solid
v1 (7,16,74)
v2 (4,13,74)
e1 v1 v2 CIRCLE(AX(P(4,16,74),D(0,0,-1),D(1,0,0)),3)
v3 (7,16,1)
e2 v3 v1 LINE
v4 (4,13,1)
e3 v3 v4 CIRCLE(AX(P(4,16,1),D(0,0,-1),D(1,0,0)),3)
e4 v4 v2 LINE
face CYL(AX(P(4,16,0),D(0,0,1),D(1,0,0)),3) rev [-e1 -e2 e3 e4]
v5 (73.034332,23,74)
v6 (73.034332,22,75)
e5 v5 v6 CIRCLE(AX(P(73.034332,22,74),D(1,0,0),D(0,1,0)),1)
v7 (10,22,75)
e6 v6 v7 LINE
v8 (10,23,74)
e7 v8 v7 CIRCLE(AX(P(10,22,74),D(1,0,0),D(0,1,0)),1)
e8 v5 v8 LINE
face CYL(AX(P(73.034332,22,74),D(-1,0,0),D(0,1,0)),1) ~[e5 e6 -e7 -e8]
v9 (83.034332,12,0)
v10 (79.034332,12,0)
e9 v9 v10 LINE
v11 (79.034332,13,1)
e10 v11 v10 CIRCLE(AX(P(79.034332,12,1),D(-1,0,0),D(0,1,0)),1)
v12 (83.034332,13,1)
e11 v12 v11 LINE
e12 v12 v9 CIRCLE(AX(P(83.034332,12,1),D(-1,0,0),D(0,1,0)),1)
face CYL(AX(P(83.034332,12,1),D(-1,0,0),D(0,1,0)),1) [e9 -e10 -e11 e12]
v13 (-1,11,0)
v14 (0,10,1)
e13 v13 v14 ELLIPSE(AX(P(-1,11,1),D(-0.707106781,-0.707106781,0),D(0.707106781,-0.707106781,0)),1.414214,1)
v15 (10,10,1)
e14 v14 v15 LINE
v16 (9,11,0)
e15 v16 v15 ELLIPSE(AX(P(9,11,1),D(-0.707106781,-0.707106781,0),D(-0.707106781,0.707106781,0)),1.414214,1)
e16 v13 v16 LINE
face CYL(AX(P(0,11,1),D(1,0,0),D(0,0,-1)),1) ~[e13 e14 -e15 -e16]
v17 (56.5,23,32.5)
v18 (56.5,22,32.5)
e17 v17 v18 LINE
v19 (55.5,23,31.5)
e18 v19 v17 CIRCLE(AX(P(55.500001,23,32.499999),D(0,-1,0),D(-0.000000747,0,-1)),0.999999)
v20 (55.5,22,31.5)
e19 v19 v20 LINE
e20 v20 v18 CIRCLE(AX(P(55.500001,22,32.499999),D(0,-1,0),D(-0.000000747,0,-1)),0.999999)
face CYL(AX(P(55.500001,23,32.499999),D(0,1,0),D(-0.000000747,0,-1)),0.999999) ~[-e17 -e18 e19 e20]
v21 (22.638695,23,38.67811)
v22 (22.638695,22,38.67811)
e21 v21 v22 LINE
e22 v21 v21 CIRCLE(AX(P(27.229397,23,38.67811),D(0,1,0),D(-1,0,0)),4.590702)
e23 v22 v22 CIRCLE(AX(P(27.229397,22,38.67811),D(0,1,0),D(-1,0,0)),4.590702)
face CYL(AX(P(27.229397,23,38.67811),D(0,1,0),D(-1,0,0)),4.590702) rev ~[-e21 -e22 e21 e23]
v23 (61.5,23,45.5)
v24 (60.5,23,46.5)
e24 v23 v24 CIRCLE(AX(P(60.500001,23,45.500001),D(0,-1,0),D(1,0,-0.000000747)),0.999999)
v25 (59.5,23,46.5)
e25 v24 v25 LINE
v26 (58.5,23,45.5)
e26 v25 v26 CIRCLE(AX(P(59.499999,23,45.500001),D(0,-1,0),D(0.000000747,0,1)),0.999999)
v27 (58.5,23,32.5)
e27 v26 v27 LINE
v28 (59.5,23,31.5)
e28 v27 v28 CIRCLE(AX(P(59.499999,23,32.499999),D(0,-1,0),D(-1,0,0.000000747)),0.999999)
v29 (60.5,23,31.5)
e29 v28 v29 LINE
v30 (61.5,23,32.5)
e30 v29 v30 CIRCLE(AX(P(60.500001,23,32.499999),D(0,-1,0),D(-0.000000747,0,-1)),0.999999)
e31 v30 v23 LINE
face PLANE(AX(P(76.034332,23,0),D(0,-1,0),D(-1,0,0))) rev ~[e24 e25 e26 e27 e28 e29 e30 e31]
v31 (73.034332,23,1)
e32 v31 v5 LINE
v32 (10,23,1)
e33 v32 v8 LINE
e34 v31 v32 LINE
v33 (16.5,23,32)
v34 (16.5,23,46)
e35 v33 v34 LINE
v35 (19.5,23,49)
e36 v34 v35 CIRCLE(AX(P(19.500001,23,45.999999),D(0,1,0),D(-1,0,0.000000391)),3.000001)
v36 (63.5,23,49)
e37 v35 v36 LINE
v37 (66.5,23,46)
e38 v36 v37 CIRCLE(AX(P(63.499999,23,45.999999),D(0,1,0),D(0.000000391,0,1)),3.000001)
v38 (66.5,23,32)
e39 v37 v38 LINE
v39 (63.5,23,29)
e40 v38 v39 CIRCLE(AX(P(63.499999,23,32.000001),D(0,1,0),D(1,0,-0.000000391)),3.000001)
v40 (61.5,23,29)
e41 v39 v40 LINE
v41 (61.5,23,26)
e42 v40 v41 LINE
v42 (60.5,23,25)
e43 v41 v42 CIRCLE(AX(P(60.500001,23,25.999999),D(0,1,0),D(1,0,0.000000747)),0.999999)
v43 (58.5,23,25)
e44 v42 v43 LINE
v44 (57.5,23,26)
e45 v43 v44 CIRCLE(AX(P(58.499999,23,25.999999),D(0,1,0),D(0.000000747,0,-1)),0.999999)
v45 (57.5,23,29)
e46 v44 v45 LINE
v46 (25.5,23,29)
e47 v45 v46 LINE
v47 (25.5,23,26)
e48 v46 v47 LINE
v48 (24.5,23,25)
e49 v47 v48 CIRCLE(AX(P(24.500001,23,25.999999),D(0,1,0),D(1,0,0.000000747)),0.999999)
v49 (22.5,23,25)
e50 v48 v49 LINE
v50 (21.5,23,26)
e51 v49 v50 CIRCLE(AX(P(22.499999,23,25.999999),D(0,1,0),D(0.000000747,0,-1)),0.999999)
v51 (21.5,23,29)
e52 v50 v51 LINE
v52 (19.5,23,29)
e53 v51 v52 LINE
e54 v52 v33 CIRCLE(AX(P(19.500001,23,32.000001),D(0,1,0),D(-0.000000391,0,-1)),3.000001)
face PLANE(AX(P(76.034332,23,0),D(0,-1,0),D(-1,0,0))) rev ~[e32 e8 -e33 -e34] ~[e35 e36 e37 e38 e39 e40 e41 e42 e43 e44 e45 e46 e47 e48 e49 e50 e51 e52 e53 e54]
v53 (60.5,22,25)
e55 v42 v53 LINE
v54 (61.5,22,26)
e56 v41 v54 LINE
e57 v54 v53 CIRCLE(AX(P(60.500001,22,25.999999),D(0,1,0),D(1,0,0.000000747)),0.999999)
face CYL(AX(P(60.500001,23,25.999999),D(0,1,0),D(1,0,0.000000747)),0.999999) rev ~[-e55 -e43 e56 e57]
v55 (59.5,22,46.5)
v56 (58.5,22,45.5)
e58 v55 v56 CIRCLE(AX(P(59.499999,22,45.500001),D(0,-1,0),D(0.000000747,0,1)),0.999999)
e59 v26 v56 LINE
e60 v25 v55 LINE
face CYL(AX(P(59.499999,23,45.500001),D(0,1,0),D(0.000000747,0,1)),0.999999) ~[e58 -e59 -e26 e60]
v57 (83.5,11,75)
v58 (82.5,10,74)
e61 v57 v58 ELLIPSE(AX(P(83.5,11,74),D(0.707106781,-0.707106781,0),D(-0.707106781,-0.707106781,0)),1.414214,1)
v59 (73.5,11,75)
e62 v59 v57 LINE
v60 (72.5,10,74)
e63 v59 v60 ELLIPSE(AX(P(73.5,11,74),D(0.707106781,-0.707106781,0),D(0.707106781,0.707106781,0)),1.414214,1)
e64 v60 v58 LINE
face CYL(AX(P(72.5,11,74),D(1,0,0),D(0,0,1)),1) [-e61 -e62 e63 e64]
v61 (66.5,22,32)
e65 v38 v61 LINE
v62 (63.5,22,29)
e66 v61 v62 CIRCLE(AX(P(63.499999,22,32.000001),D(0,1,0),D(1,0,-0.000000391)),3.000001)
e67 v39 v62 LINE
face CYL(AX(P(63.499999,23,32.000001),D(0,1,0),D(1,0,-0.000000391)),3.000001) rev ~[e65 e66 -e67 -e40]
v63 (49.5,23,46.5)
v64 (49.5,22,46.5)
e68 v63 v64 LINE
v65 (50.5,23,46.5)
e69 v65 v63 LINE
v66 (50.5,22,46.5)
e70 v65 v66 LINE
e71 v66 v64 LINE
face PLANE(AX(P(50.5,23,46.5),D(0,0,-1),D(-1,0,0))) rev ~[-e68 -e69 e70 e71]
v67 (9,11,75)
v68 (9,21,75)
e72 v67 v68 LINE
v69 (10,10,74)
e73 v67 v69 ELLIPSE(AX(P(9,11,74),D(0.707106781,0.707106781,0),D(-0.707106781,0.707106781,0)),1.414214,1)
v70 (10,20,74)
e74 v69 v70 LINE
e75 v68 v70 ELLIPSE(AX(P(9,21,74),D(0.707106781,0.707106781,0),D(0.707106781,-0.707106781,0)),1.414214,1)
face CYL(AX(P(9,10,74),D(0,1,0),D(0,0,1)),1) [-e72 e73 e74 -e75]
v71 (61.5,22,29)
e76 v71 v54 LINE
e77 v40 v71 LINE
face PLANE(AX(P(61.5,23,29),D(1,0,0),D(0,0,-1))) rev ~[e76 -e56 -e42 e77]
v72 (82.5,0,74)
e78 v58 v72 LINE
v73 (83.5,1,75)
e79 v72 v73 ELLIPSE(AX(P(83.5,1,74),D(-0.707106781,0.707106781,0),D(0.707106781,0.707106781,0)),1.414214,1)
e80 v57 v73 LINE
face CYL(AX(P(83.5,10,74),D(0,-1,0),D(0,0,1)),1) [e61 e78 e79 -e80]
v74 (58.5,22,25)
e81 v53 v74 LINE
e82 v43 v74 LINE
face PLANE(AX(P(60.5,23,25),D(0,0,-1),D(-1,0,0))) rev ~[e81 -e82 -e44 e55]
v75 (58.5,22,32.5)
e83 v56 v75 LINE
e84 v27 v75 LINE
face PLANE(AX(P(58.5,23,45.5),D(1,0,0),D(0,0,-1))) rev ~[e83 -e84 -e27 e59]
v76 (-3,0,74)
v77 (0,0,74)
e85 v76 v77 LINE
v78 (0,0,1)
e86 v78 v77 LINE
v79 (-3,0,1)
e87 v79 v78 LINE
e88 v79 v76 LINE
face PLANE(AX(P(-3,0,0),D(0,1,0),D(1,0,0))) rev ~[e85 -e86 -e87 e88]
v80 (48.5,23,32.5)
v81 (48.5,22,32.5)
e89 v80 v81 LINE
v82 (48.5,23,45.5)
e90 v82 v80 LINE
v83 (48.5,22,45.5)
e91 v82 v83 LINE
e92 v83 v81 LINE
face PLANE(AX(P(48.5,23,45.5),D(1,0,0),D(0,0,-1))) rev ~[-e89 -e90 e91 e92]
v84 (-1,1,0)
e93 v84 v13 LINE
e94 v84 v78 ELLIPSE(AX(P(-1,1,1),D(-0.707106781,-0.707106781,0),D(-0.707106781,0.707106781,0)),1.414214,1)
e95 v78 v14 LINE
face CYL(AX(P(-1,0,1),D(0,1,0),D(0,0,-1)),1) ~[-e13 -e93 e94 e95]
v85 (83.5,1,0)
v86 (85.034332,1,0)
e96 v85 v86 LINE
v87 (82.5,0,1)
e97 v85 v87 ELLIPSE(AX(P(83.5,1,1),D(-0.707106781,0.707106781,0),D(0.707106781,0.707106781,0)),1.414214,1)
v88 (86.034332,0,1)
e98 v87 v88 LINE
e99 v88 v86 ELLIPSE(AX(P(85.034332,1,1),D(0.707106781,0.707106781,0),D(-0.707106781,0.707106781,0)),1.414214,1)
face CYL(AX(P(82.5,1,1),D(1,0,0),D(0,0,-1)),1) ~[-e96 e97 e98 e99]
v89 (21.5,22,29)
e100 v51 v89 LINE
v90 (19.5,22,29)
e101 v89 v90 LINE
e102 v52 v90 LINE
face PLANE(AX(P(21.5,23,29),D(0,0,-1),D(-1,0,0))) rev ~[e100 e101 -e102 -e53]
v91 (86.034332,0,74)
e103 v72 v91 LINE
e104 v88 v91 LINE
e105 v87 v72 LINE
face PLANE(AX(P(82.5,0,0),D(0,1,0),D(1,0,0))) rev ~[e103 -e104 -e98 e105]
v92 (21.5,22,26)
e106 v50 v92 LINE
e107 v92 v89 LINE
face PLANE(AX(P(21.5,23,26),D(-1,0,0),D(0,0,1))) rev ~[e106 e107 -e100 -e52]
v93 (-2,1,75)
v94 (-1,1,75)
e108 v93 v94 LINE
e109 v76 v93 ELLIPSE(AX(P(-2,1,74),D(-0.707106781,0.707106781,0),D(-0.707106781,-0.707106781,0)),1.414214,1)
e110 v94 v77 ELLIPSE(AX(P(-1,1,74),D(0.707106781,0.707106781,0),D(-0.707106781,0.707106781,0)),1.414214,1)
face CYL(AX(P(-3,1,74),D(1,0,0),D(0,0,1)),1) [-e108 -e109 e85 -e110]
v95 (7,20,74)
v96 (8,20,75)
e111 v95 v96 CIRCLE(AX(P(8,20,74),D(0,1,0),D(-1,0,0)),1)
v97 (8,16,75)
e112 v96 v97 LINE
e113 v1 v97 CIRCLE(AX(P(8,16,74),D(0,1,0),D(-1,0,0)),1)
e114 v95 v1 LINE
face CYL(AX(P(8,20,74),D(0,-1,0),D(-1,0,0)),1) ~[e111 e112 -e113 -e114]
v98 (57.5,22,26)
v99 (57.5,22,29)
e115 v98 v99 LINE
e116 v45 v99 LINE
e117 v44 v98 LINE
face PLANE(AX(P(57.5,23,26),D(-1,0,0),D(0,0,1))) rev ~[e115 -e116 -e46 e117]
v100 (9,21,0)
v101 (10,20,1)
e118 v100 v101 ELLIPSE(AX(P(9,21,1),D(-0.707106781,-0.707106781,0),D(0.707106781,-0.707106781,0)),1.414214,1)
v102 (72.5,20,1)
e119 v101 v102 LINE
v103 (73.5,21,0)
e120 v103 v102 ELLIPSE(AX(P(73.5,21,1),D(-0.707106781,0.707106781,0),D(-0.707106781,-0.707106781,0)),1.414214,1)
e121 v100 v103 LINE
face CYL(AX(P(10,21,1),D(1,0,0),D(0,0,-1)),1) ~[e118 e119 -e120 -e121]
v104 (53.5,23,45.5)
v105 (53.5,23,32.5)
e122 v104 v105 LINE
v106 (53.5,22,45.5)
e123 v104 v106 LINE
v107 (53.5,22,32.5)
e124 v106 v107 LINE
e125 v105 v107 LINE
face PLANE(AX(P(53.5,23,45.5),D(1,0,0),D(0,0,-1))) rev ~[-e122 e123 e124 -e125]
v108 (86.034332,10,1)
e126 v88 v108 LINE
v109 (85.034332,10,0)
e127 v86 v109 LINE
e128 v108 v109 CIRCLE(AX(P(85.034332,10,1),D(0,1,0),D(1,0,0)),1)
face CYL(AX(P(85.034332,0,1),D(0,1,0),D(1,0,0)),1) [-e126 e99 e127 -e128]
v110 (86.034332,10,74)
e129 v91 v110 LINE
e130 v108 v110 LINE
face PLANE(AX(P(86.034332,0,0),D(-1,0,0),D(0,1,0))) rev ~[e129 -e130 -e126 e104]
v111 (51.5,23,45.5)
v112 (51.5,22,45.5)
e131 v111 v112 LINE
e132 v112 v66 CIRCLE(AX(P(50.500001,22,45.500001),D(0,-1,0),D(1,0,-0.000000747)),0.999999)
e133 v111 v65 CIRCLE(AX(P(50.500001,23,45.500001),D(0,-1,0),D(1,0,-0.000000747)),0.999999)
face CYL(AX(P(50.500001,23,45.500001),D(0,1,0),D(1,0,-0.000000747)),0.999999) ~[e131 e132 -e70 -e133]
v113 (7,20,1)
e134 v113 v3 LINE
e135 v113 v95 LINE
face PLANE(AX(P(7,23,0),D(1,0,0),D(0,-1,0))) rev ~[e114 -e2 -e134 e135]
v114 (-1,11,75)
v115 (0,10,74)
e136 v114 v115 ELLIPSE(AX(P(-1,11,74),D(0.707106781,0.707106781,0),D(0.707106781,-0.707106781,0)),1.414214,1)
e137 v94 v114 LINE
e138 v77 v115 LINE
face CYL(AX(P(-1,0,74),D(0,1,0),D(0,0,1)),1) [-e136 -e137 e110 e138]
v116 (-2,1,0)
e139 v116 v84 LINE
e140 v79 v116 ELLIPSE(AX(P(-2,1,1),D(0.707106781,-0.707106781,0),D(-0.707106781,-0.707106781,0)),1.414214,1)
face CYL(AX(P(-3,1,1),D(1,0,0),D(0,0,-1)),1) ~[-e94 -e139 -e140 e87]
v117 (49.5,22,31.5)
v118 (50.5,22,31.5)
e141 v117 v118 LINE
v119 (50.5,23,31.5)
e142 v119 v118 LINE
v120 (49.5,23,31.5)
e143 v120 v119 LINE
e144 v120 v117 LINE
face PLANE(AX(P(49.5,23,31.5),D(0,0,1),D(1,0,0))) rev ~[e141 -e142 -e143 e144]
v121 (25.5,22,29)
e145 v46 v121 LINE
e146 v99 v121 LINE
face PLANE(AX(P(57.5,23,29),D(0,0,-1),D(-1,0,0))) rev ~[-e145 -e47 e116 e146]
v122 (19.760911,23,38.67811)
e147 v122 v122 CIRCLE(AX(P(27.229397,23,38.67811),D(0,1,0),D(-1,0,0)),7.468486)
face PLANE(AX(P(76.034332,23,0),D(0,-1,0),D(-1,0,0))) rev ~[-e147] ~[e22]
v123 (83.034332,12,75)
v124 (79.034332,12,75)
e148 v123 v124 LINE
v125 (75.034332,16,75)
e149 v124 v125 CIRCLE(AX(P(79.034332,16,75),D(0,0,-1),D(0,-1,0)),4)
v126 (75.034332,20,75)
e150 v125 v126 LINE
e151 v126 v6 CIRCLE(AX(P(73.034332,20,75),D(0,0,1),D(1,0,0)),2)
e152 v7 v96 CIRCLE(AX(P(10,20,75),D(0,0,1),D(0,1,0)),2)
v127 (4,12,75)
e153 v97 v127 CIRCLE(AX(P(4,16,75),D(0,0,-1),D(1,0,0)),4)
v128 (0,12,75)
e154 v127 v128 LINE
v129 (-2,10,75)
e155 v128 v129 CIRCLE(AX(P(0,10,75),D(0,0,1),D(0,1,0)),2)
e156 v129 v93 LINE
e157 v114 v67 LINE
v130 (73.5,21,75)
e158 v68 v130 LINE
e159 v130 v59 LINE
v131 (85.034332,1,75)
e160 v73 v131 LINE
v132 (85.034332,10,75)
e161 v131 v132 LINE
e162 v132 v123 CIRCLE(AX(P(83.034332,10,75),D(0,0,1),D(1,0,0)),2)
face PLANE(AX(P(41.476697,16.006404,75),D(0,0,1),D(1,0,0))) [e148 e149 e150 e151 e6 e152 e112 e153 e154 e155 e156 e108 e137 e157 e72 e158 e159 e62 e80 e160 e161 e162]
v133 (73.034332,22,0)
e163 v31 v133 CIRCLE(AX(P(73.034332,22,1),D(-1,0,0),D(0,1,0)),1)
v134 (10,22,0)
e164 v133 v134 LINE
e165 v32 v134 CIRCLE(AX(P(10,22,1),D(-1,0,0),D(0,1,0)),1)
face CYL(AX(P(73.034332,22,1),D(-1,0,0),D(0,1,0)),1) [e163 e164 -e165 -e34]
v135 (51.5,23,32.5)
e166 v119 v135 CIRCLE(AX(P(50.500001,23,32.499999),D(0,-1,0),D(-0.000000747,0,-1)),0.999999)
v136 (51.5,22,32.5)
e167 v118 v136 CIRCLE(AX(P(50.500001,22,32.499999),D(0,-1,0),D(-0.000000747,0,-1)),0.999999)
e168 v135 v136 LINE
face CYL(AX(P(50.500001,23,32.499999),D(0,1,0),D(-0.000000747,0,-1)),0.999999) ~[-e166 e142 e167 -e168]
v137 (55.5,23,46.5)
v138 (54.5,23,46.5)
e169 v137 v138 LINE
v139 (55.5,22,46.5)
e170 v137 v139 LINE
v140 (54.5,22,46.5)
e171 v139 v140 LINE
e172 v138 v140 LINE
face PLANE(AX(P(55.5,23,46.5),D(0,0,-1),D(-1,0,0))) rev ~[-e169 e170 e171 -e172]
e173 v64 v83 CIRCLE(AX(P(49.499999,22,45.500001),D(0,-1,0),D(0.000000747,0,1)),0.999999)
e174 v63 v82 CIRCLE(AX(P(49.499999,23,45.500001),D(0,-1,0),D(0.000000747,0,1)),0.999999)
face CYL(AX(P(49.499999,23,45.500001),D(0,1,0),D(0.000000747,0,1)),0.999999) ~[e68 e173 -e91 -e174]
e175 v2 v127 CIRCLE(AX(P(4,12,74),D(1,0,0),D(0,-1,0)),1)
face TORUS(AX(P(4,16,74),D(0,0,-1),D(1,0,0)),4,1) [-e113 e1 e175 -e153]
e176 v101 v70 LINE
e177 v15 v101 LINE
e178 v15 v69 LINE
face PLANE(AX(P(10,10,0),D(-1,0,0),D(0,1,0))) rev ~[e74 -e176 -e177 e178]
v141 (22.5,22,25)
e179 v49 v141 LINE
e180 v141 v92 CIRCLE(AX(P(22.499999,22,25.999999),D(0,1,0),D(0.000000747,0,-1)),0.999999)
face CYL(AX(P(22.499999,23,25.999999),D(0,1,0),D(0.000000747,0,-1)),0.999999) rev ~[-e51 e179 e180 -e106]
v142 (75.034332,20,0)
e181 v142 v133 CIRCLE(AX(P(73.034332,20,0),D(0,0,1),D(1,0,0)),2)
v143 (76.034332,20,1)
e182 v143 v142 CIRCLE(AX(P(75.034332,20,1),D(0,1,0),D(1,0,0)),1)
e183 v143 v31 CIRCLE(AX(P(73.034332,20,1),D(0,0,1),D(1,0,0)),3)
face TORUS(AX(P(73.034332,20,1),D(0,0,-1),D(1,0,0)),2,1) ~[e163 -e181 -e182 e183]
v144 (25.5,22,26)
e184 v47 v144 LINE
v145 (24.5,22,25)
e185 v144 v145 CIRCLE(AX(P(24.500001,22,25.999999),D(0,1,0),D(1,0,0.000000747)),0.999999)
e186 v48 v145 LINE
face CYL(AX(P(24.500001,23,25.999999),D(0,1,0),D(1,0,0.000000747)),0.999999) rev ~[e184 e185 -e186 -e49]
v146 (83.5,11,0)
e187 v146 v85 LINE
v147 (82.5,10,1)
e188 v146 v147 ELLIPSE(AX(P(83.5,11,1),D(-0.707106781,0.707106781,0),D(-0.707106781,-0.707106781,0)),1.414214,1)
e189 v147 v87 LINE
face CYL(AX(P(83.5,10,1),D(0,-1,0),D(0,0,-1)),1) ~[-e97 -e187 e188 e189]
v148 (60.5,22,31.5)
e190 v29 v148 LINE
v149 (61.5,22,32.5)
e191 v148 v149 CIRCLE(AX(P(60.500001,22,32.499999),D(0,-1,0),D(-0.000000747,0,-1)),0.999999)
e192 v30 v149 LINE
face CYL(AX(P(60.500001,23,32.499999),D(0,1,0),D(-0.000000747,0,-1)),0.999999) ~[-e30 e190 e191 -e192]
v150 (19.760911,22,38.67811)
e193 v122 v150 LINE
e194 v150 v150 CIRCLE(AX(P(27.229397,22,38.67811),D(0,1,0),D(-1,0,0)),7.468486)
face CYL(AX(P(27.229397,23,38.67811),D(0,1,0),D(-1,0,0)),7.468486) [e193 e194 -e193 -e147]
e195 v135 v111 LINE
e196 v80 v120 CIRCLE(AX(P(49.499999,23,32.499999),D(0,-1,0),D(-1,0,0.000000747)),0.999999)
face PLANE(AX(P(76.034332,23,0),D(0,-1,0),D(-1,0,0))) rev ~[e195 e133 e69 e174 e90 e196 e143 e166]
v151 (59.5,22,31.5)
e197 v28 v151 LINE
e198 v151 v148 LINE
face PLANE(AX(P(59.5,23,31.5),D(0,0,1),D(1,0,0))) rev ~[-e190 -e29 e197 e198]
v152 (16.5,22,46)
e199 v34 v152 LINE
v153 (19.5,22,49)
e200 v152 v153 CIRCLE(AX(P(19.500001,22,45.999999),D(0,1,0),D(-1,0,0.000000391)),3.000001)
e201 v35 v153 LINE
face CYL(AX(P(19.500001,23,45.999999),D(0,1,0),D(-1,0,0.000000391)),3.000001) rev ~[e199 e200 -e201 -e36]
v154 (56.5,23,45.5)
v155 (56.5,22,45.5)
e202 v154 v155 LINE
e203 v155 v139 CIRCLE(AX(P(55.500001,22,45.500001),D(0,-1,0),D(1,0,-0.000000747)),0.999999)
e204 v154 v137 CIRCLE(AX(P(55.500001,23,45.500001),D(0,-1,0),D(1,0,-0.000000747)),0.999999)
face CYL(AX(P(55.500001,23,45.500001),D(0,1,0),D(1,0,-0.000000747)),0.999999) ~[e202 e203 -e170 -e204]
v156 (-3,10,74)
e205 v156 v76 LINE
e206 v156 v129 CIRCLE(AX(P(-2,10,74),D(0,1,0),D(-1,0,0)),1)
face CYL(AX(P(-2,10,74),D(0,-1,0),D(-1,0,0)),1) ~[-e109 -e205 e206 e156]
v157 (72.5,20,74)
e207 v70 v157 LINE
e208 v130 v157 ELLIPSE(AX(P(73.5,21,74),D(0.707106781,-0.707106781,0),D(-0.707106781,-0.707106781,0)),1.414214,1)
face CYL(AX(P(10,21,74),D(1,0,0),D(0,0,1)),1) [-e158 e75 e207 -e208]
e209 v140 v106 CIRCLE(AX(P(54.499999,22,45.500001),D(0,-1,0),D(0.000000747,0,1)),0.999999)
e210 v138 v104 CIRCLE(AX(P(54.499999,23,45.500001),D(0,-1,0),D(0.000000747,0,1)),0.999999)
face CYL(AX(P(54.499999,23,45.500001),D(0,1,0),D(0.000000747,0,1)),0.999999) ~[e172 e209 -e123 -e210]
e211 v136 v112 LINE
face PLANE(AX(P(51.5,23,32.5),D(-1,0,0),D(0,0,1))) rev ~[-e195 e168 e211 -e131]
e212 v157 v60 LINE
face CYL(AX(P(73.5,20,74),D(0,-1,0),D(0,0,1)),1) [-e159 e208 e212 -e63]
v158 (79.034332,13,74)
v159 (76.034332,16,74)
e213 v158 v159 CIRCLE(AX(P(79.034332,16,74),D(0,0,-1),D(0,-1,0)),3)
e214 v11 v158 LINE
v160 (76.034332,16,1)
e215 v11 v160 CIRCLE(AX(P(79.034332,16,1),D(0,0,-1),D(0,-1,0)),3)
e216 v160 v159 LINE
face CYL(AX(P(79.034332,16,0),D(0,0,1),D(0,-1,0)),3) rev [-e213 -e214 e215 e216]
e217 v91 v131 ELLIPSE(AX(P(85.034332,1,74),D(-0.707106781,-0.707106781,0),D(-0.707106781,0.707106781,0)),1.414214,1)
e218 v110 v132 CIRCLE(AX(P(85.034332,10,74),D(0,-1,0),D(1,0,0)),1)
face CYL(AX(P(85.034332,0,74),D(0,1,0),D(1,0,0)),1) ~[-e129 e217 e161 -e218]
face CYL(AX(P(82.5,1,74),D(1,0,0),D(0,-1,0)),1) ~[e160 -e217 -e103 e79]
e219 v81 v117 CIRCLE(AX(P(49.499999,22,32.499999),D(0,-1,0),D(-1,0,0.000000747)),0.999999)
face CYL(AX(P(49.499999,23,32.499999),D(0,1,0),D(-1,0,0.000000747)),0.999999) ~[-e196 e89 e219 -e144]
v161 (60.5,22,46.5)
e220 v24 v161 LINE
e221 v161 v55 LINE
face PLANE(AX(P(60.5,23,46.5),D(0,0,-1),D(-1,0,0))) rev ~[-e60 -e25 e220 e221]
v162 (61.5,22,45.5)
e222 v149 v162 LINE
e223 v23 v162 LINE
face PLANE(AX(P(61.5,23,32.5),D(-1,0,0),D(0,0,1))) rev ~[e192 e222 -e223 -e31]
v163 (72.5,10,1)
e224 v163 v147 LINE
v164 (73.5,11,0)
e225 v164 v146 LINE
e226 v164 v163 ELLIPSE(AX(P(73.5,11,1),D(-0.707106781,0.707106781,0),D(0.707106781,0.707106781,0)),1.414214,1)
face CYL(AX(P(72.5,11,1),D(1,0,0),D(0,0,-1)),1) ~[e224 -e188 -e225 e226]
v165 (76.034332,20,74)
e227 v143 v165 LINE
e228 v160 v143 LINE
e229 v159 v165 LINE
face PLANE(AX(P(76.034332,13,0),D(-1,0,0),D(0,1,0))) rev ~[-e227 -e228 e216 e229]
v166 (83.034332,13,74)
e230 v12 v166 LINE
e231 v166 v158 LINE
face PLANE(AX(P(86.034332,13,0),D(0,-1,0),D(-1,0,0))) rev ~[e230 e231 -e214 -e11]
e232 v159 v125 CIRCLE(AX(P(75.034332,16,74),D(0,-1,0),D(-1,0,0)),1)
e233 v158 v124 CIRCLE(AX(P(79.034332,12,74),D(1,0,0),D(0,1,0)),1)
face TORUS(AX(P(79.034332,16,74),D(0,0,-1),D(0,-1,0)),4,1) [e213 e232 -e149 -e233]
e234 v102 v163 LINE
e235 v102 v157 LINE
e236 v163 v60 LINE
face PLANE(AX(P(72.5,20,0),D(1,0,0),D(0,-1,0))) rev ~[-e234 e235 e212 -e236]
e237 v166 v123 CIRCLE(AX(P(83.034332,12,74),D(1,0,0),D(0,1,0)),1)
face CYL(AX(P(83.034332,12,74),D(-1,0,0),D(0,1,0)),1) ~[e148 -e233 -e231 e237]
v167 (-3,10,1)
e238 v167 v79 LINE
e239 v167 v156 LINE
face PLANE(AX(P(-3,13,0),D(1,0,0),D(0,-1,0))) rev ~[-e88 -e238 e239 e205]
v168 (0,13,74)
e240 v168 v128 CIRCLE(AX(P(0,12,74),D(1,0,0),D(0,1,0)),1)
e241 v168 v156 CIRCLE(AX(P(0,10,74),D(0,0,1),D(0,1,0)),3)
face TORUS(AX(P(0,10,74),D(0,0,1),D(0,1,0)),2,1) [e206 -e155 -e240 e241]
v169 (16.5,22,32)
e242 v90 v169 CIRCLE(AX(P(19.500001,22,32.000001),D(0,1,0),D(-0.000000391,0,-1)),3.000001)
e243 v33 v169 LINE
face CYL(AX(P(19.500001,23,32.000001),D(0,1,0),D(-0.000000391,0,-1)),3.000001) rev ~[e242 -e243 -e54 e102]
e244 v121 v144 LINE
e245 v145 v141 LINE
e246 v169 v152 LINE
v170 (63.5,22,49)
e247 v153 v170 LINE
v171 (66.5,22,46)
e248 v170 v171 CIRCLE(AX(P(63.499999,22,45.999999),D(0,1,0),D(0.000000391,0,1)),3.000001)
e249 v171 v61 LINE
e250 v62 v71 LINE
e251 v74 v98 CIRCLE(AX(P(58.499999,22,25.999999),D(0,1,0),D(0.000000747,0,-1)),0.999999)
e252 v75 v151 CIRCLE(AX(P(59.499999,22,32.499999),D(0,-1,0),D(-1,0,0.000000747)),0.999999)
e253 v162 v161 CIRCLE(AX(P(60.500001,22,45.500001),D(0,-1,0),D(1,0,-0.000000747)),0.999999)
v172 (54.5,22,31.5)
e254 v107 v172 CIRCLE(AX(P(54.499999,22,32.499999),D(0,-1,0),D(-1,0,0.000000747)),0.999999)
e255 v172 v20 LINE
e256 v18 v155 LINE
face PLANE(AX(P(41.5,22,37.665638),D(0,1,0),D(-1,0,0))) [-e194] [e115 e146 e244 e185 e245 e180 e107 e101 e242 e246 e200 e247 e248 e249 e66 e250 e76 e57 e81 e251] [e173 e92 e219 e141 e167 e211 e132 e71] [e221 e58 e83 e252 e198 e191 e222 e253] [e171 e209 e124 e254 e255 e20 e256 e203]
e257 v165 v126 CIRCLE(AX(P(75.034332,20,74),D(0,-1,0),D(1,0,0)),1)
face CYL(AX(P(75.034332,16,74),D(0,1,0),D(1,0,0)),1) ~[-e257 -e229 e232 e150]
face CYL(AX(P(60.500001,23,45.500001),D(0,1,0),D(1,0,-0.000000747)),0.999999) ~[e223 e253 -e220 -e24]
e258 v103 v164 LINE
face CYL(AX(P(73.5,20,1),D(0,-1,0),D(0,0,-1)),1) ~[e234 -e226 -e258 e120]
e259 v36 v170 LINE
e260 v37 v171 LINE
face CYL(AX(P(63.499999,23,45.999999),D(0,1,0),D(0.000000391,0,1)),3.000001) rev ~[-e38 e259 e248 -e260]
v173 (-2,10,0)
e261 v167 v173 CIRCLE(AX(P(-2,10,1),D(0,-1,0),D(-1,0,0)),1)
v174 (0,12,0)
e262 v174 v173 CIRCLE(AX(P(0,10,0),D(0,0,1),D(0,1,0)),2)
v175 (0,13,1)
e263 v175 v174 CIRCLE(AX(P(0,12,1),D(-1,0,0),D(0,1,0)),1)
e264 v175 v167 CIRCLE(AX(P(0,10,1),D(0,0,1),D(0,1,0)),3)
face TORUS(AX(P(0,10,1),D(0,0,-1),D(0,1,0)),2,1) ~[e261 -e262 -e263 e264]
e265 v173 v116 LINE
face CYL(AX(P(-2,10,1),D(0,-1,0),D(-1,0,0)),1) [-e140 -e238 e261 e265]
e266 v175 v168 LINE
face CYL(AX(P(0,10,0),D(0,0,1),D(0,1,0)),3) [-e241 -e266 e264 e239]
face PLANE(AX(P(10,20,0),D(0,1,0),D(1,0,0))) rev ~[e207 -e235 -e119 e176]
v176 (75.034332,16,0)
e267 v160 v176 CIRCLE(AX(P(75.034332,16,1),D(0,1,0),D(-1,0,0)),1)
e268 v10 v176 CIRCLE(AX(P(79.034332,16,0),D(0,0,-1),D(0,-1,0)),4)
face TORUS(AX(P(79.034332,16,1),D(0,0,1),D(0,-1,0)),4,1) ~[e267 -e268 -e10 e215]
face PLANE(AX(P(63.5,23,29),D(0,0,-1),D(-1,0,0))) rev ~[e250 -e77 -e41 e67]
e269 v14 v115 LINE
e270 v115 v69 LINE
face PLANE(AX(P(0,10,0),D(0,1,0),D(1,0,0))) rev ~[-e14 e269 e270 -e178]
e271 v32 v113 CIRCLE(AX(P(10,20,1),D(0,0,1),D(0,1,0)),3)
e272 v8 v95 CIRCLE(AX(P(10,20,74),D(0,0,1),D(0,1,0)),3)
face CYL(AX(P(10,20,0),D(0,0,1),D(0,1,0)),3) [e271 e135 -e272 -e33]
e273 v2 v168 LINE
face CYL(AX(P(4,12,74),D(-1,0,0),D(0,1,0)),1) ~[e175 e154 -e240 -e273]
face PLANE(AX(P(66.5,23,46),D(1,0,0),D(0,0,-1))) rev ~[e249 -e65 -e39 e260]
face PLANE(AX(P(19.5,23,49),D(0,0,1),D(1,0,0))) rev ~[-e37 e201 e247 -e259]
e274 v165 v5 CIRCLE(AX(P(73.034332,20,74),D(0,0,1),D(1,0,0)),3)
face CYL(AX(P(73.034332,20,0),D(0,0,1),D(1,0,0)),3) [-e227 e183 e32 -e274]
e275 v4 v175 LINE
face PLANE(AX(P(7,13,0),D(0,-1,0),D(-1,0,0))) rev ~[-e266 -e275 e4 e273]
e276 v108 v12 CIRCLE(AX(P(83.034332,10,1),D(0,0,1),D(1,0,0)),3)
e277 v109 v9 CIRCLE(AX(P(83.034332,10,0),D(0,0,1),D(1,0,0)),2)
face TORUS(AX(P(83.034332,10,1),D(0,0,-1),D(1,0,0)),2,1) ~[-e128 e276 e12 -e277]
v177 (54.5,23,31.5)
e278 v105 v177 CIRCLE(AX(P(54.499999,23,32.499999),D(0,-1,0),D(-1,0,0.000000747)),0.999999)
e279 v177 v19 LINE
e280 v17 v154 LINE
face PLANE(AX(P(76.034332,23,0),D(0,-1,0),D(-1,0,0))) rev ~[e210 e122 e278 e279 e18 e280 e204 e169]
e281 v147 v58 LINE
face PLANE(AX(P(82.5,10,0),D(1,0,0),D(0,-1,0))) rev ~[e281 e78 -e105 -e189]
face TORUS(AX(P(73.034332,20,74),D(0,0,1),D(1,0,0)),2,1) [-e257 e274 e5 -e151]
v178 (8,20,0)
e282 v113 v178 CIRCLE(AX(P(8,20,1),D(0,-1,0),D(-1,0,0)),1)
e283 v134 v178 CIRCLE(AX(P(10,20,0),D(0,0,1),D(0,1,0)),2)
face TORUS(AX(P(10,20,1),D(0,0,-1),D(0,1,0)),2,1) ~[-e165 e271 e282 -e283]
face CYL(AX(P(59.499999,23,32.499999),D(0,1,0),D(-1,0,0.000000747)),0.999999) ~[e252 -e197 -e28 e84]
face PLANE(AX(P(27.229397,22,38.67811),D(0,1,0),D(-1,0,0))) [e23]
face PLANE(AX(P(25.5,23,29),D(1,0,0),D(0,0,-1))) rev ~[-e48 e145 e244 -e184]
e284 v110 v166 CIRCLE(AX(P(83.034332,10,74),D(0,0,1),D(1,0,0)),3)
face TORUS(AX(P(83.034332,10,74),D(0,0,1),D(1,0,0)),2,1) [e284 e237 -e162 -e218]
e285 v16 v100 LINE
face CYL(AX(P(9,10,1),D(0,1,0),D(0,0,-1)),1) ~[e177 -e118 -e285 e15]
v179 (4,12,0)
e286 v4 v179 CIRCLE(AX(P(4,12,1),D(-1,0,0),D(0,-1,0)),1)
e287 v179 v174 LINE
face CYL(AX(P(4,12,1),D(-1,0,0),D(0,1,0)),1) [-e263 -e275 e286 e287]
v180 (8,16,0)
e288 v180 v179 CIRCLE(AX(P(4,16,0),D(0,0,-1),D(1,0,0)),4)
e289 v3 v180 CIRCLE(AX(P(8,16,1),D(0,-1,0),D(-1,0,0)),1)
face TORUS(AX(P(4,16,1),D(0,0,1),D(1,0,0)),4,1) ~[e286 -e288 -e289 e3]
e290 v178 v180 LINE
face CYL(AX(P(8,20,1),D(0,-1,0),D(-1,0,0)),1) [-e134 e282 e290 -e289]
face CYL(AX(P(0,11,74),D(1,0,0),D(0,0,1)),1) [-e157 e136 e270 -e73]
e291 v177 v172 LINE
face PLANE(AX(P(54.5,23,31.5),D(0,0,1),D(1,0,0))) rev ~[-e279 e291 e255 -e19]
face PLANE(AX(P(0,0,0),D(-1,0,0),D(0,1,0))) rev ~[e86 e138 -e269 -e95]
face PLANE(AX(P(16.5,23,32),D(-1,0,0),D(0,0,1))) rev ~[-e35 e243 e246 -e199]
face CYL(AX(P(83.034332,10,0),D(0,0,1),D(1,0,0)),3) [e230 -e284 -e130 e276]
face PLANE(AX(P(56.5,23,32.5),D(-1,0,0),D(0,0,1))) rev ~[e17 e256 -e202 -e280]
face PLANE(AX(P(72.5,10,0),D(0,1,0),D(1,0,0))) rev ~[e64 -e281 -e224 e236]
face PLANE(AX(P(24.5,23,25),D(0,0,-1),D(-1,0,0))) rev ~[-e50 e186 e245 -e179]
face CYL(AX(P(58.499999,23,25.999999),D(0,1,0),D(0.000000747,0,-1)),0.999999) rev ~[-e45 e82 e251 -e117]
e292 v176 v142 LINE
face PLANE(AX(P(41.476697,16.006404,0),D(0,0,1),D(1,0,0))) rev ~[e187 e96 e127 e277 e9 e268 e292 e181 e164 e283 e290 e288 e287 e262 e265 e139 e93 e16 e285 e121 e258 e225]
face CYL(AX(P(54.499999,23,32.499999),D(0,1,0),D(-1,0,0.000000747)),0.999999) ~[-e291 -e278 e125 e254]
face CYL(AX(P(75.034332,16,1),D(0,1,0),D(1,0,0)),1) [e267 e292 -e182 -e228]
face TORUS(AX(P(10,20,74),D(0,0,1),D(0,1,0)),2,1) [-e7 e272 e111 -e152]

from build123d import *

# Parameters (mm, degrees)
F1_DEPTH = 75
F2_R     = 3
F3_R     = 1
F4_R     = 7.468486
F4_R_2   = 4.590702
F5_DEPTH = 1


with BuildPart() as f1:
    # F0 (on Top) → F1 (new body)
    with BuildSketch(Plane.XY):
        Polygon((-3, 0), (0, 0), (0, 10), (10, 10), (10, 20), (72.5, 20), (72.5, 10), (82.5, 10), (82.5, 0), (86.034332, 0), (86.034332, 13), (76.034332, 13), (76.034332, 23), (7, 23), (7, 13), (-3, 13), align=None)
    extrude(amount=F1_DEPTH)

    # F2
    f2_edges = [f1.edges().sort_by_distance(p)[0] for p in [
        (-3, 13, 37.5),
        (7, 13, 37.5),
        (7, 23, 37.5),
        (76.034332, 23, 37.5),
        (76.034332, 13, 37.5),
        (86.034332, 13, 37.5),
    ]]
    fillet(f2_edges, radius=F2_R)

    # F3
    f3_edges = [f1.edges().sort_by_distance(p)[0] for p in [
        (86.034332, 5, 75),
        (85.155653, 12.12132, 75),
        (84.267166, 0, 75),
        (81.034332, 13, 75),
        (82.5, 5, 75),
        (76.913012, 13.87868, 75),
        (77.5, 10, 75),
        (76.034332, 18, 75),
        (72.5, 15, 75),
        (75.155653, 22.12132, 75),
        (41.25, 20, 75),
        (41.517166, 23, 75),
        (10, 15, 75),
        (7.87868, 22.12132, 75),
        (5, 10, 75),
        (7, 18, 75),
        (0, 5, 75),
        (6.12132, 13.87868, 75),
        (-1.5, 0, 75),
        (2, 13, 75),
        (-3, 5, 75),
        (-2.12132, 12.12132, 75),
        (86.034332, 5, 0),
        (85.155653, 12.12132, 0),
        (84.267166, 0, 0),
        (81.034332, 13, 0),
        (82.5, 5, 0),
        (76.913012, 13.87868, 0),
        (77.5, 10, 0),
        (76.034332, 18, 0),
        (72.5, 15, 0),
        (75.155653, 22.12132, 0),
        (41.25, 20, 0),
        (41.517166, 23, 0),
        (10, 15, 0),
        (7.87868, 22.12132, 0),
        (5, 10, 0),
        (7, 18, 0),
        (0, 5, 0),
        (6.12132, 13.87868, 0),
        (-1.5, 0, 0),
        (2, 13, 0),
        (-3, 5, 0),
        (-2.12132, 12.12132, 0),
    ]]
    fillet(f3_edges, radius=F3_R)

    # F4 (on face) → F5 (cut)
    with BuildSketch(Plane(origin=(0, 23, 0), x_dir=(-1, 0, 0), z_dir=(0, 1, 0))):
        with BuildLine():
            Line((-19.5, 49), (-63.5, 49))
            ThreePointArc((-63.5, 49), (-65.62132, 48.12132), (-66.5, 46))
            Line((-66.5, 46), (-66.5, 32))
            ThreePointArc((-66.5, 32), (-65.62132, 29.87868), (-63.5, 29))
            Line((-63.5, 29), (-61.5, 29))
            Line((-61.5, 29), (-61.5, 26))
            ThreePointArc((-61.5, 26), (-61.207107, 25.292893), (-60.5, 25))
            Line((-60.5, 25), (-58.5, 25))
            ThreePointArc((-58.5, 25), (-57.792893, 25.292893), (-57.5, 26))
            Line((-57.5, 26), (-57.5, 29))
            Line((-57.5, 29), (-25.5, 29))
            Line((-25.5, 29), (-25.5, 26))
            ThreePointArc((-25.5, 26), (-25.207107, 25.292893), (-24.5, 25))
            Line((-24.5, 25), (-22.5, 25))
            ThreePointArc((-22.5, 25), (-21.792893, 25.292893), (-21.5, 26))
            Line((-21.5, 26), (-21.5, 29))
            Line((-21.5, 29), (-19.5, 29))
            ThreePointArc((-19.5, 29), (-17.37868, 29.87868), (-16.5, 32))
            Line((-16.5, 32), (-16.5, 46))
            ThreePointArc((-16.5, 46), (-17.37868, 48.12132), (-19.5, 49))
        make_face()
        with BuildLine():
            ThreePointArc((-61.5, 45.5), (-61.207107, 46.207107), (-60.5, 46.5))
            Line((-60.5, 46.5), (-59.5, 46.5))
            ThreePointArc((-59.5, 46.5), (-58.792893, 46.207107), (-58.5, 45.5))
            Line((-58.5, 45.5), (-58.5, 32.5))
            ThreePointArc((-58.5, 32.5), (-58.792893, 31.792893), (-59.5, 31.5))
            Line((-59.5, 31.5), (-60.5, 31.5))
            ThreePointArc((-60.5, 31.5), (-61.207107, 31.792893), (-61.5, 32.5))
            Line((-61.5, 32.5), (-61.5, 45.5))
        make_face(mode=Mode.SUBTRACT)
        with BuildLine():
            ThreePointArc((-56.5, 45.5), (-56.207107, 46.207107), (-55.5, 46.5))
            Line((-55.5, 46.5), (-54.5, 46.5))
            ThreePointArc((-54.5, 46.5), (-53.792893, 46.207107), (-53.5, 45.5))
            Line((-53.5, 45.5), (-53.5, 32.5))
            ThreePointArc((-53.5, 32.5), (-53.792893, 31.792893), (-54.5, 31.5))
            Line((-54.5, 31.5), (-55.5, 31.5))
            ThreePointArc((-55.5, 31.5), (-56.207107, 31.792893), (-56.5, 32.5))
            Line((-56.5, 32.5), (-56.5, 45.5))
        make_face(mode=Mode.SUBTRACT)
        with BuildLine():
            ThreePointArc((-51.5, 45.5), (-51.207107, 46.207107), (-50.5, 46.5))
            Line((-50.5, 46.5), (-49.5, 46.5))
            ThreePointArc((-49.5, 46.5), (-48.792893, 46.207107), (-48.5, 45.5))
            Line((-48.5, 45.5), (-48.5, 32.5))
            ThreePointArc((-48.5, 32.5), (-48.792893, 31.792893), (-49.5, 31.5))
            Line((-49.5, 31.5), (-50.5, 31.5))
            ThreePointArc((-50.5, 31.5), (-51.207107, 31.792893), (-51.5, 32.5))
            Line((-51.5, 32.5), (-51.5, 45.5))
        make_face(mode=Mode.SUBTRACT)
        with Locations((-27.229397, 38.67811)):
            Circle(F4_R, mode=Mode.SUBTRACT)
        with Locations((-27.229397, 38.67811)):
            Circle(F4_R_2)
    extrude(amount=-F5_DEPTH, mode=Mode.SUBTRACT)


solid = f1.part
